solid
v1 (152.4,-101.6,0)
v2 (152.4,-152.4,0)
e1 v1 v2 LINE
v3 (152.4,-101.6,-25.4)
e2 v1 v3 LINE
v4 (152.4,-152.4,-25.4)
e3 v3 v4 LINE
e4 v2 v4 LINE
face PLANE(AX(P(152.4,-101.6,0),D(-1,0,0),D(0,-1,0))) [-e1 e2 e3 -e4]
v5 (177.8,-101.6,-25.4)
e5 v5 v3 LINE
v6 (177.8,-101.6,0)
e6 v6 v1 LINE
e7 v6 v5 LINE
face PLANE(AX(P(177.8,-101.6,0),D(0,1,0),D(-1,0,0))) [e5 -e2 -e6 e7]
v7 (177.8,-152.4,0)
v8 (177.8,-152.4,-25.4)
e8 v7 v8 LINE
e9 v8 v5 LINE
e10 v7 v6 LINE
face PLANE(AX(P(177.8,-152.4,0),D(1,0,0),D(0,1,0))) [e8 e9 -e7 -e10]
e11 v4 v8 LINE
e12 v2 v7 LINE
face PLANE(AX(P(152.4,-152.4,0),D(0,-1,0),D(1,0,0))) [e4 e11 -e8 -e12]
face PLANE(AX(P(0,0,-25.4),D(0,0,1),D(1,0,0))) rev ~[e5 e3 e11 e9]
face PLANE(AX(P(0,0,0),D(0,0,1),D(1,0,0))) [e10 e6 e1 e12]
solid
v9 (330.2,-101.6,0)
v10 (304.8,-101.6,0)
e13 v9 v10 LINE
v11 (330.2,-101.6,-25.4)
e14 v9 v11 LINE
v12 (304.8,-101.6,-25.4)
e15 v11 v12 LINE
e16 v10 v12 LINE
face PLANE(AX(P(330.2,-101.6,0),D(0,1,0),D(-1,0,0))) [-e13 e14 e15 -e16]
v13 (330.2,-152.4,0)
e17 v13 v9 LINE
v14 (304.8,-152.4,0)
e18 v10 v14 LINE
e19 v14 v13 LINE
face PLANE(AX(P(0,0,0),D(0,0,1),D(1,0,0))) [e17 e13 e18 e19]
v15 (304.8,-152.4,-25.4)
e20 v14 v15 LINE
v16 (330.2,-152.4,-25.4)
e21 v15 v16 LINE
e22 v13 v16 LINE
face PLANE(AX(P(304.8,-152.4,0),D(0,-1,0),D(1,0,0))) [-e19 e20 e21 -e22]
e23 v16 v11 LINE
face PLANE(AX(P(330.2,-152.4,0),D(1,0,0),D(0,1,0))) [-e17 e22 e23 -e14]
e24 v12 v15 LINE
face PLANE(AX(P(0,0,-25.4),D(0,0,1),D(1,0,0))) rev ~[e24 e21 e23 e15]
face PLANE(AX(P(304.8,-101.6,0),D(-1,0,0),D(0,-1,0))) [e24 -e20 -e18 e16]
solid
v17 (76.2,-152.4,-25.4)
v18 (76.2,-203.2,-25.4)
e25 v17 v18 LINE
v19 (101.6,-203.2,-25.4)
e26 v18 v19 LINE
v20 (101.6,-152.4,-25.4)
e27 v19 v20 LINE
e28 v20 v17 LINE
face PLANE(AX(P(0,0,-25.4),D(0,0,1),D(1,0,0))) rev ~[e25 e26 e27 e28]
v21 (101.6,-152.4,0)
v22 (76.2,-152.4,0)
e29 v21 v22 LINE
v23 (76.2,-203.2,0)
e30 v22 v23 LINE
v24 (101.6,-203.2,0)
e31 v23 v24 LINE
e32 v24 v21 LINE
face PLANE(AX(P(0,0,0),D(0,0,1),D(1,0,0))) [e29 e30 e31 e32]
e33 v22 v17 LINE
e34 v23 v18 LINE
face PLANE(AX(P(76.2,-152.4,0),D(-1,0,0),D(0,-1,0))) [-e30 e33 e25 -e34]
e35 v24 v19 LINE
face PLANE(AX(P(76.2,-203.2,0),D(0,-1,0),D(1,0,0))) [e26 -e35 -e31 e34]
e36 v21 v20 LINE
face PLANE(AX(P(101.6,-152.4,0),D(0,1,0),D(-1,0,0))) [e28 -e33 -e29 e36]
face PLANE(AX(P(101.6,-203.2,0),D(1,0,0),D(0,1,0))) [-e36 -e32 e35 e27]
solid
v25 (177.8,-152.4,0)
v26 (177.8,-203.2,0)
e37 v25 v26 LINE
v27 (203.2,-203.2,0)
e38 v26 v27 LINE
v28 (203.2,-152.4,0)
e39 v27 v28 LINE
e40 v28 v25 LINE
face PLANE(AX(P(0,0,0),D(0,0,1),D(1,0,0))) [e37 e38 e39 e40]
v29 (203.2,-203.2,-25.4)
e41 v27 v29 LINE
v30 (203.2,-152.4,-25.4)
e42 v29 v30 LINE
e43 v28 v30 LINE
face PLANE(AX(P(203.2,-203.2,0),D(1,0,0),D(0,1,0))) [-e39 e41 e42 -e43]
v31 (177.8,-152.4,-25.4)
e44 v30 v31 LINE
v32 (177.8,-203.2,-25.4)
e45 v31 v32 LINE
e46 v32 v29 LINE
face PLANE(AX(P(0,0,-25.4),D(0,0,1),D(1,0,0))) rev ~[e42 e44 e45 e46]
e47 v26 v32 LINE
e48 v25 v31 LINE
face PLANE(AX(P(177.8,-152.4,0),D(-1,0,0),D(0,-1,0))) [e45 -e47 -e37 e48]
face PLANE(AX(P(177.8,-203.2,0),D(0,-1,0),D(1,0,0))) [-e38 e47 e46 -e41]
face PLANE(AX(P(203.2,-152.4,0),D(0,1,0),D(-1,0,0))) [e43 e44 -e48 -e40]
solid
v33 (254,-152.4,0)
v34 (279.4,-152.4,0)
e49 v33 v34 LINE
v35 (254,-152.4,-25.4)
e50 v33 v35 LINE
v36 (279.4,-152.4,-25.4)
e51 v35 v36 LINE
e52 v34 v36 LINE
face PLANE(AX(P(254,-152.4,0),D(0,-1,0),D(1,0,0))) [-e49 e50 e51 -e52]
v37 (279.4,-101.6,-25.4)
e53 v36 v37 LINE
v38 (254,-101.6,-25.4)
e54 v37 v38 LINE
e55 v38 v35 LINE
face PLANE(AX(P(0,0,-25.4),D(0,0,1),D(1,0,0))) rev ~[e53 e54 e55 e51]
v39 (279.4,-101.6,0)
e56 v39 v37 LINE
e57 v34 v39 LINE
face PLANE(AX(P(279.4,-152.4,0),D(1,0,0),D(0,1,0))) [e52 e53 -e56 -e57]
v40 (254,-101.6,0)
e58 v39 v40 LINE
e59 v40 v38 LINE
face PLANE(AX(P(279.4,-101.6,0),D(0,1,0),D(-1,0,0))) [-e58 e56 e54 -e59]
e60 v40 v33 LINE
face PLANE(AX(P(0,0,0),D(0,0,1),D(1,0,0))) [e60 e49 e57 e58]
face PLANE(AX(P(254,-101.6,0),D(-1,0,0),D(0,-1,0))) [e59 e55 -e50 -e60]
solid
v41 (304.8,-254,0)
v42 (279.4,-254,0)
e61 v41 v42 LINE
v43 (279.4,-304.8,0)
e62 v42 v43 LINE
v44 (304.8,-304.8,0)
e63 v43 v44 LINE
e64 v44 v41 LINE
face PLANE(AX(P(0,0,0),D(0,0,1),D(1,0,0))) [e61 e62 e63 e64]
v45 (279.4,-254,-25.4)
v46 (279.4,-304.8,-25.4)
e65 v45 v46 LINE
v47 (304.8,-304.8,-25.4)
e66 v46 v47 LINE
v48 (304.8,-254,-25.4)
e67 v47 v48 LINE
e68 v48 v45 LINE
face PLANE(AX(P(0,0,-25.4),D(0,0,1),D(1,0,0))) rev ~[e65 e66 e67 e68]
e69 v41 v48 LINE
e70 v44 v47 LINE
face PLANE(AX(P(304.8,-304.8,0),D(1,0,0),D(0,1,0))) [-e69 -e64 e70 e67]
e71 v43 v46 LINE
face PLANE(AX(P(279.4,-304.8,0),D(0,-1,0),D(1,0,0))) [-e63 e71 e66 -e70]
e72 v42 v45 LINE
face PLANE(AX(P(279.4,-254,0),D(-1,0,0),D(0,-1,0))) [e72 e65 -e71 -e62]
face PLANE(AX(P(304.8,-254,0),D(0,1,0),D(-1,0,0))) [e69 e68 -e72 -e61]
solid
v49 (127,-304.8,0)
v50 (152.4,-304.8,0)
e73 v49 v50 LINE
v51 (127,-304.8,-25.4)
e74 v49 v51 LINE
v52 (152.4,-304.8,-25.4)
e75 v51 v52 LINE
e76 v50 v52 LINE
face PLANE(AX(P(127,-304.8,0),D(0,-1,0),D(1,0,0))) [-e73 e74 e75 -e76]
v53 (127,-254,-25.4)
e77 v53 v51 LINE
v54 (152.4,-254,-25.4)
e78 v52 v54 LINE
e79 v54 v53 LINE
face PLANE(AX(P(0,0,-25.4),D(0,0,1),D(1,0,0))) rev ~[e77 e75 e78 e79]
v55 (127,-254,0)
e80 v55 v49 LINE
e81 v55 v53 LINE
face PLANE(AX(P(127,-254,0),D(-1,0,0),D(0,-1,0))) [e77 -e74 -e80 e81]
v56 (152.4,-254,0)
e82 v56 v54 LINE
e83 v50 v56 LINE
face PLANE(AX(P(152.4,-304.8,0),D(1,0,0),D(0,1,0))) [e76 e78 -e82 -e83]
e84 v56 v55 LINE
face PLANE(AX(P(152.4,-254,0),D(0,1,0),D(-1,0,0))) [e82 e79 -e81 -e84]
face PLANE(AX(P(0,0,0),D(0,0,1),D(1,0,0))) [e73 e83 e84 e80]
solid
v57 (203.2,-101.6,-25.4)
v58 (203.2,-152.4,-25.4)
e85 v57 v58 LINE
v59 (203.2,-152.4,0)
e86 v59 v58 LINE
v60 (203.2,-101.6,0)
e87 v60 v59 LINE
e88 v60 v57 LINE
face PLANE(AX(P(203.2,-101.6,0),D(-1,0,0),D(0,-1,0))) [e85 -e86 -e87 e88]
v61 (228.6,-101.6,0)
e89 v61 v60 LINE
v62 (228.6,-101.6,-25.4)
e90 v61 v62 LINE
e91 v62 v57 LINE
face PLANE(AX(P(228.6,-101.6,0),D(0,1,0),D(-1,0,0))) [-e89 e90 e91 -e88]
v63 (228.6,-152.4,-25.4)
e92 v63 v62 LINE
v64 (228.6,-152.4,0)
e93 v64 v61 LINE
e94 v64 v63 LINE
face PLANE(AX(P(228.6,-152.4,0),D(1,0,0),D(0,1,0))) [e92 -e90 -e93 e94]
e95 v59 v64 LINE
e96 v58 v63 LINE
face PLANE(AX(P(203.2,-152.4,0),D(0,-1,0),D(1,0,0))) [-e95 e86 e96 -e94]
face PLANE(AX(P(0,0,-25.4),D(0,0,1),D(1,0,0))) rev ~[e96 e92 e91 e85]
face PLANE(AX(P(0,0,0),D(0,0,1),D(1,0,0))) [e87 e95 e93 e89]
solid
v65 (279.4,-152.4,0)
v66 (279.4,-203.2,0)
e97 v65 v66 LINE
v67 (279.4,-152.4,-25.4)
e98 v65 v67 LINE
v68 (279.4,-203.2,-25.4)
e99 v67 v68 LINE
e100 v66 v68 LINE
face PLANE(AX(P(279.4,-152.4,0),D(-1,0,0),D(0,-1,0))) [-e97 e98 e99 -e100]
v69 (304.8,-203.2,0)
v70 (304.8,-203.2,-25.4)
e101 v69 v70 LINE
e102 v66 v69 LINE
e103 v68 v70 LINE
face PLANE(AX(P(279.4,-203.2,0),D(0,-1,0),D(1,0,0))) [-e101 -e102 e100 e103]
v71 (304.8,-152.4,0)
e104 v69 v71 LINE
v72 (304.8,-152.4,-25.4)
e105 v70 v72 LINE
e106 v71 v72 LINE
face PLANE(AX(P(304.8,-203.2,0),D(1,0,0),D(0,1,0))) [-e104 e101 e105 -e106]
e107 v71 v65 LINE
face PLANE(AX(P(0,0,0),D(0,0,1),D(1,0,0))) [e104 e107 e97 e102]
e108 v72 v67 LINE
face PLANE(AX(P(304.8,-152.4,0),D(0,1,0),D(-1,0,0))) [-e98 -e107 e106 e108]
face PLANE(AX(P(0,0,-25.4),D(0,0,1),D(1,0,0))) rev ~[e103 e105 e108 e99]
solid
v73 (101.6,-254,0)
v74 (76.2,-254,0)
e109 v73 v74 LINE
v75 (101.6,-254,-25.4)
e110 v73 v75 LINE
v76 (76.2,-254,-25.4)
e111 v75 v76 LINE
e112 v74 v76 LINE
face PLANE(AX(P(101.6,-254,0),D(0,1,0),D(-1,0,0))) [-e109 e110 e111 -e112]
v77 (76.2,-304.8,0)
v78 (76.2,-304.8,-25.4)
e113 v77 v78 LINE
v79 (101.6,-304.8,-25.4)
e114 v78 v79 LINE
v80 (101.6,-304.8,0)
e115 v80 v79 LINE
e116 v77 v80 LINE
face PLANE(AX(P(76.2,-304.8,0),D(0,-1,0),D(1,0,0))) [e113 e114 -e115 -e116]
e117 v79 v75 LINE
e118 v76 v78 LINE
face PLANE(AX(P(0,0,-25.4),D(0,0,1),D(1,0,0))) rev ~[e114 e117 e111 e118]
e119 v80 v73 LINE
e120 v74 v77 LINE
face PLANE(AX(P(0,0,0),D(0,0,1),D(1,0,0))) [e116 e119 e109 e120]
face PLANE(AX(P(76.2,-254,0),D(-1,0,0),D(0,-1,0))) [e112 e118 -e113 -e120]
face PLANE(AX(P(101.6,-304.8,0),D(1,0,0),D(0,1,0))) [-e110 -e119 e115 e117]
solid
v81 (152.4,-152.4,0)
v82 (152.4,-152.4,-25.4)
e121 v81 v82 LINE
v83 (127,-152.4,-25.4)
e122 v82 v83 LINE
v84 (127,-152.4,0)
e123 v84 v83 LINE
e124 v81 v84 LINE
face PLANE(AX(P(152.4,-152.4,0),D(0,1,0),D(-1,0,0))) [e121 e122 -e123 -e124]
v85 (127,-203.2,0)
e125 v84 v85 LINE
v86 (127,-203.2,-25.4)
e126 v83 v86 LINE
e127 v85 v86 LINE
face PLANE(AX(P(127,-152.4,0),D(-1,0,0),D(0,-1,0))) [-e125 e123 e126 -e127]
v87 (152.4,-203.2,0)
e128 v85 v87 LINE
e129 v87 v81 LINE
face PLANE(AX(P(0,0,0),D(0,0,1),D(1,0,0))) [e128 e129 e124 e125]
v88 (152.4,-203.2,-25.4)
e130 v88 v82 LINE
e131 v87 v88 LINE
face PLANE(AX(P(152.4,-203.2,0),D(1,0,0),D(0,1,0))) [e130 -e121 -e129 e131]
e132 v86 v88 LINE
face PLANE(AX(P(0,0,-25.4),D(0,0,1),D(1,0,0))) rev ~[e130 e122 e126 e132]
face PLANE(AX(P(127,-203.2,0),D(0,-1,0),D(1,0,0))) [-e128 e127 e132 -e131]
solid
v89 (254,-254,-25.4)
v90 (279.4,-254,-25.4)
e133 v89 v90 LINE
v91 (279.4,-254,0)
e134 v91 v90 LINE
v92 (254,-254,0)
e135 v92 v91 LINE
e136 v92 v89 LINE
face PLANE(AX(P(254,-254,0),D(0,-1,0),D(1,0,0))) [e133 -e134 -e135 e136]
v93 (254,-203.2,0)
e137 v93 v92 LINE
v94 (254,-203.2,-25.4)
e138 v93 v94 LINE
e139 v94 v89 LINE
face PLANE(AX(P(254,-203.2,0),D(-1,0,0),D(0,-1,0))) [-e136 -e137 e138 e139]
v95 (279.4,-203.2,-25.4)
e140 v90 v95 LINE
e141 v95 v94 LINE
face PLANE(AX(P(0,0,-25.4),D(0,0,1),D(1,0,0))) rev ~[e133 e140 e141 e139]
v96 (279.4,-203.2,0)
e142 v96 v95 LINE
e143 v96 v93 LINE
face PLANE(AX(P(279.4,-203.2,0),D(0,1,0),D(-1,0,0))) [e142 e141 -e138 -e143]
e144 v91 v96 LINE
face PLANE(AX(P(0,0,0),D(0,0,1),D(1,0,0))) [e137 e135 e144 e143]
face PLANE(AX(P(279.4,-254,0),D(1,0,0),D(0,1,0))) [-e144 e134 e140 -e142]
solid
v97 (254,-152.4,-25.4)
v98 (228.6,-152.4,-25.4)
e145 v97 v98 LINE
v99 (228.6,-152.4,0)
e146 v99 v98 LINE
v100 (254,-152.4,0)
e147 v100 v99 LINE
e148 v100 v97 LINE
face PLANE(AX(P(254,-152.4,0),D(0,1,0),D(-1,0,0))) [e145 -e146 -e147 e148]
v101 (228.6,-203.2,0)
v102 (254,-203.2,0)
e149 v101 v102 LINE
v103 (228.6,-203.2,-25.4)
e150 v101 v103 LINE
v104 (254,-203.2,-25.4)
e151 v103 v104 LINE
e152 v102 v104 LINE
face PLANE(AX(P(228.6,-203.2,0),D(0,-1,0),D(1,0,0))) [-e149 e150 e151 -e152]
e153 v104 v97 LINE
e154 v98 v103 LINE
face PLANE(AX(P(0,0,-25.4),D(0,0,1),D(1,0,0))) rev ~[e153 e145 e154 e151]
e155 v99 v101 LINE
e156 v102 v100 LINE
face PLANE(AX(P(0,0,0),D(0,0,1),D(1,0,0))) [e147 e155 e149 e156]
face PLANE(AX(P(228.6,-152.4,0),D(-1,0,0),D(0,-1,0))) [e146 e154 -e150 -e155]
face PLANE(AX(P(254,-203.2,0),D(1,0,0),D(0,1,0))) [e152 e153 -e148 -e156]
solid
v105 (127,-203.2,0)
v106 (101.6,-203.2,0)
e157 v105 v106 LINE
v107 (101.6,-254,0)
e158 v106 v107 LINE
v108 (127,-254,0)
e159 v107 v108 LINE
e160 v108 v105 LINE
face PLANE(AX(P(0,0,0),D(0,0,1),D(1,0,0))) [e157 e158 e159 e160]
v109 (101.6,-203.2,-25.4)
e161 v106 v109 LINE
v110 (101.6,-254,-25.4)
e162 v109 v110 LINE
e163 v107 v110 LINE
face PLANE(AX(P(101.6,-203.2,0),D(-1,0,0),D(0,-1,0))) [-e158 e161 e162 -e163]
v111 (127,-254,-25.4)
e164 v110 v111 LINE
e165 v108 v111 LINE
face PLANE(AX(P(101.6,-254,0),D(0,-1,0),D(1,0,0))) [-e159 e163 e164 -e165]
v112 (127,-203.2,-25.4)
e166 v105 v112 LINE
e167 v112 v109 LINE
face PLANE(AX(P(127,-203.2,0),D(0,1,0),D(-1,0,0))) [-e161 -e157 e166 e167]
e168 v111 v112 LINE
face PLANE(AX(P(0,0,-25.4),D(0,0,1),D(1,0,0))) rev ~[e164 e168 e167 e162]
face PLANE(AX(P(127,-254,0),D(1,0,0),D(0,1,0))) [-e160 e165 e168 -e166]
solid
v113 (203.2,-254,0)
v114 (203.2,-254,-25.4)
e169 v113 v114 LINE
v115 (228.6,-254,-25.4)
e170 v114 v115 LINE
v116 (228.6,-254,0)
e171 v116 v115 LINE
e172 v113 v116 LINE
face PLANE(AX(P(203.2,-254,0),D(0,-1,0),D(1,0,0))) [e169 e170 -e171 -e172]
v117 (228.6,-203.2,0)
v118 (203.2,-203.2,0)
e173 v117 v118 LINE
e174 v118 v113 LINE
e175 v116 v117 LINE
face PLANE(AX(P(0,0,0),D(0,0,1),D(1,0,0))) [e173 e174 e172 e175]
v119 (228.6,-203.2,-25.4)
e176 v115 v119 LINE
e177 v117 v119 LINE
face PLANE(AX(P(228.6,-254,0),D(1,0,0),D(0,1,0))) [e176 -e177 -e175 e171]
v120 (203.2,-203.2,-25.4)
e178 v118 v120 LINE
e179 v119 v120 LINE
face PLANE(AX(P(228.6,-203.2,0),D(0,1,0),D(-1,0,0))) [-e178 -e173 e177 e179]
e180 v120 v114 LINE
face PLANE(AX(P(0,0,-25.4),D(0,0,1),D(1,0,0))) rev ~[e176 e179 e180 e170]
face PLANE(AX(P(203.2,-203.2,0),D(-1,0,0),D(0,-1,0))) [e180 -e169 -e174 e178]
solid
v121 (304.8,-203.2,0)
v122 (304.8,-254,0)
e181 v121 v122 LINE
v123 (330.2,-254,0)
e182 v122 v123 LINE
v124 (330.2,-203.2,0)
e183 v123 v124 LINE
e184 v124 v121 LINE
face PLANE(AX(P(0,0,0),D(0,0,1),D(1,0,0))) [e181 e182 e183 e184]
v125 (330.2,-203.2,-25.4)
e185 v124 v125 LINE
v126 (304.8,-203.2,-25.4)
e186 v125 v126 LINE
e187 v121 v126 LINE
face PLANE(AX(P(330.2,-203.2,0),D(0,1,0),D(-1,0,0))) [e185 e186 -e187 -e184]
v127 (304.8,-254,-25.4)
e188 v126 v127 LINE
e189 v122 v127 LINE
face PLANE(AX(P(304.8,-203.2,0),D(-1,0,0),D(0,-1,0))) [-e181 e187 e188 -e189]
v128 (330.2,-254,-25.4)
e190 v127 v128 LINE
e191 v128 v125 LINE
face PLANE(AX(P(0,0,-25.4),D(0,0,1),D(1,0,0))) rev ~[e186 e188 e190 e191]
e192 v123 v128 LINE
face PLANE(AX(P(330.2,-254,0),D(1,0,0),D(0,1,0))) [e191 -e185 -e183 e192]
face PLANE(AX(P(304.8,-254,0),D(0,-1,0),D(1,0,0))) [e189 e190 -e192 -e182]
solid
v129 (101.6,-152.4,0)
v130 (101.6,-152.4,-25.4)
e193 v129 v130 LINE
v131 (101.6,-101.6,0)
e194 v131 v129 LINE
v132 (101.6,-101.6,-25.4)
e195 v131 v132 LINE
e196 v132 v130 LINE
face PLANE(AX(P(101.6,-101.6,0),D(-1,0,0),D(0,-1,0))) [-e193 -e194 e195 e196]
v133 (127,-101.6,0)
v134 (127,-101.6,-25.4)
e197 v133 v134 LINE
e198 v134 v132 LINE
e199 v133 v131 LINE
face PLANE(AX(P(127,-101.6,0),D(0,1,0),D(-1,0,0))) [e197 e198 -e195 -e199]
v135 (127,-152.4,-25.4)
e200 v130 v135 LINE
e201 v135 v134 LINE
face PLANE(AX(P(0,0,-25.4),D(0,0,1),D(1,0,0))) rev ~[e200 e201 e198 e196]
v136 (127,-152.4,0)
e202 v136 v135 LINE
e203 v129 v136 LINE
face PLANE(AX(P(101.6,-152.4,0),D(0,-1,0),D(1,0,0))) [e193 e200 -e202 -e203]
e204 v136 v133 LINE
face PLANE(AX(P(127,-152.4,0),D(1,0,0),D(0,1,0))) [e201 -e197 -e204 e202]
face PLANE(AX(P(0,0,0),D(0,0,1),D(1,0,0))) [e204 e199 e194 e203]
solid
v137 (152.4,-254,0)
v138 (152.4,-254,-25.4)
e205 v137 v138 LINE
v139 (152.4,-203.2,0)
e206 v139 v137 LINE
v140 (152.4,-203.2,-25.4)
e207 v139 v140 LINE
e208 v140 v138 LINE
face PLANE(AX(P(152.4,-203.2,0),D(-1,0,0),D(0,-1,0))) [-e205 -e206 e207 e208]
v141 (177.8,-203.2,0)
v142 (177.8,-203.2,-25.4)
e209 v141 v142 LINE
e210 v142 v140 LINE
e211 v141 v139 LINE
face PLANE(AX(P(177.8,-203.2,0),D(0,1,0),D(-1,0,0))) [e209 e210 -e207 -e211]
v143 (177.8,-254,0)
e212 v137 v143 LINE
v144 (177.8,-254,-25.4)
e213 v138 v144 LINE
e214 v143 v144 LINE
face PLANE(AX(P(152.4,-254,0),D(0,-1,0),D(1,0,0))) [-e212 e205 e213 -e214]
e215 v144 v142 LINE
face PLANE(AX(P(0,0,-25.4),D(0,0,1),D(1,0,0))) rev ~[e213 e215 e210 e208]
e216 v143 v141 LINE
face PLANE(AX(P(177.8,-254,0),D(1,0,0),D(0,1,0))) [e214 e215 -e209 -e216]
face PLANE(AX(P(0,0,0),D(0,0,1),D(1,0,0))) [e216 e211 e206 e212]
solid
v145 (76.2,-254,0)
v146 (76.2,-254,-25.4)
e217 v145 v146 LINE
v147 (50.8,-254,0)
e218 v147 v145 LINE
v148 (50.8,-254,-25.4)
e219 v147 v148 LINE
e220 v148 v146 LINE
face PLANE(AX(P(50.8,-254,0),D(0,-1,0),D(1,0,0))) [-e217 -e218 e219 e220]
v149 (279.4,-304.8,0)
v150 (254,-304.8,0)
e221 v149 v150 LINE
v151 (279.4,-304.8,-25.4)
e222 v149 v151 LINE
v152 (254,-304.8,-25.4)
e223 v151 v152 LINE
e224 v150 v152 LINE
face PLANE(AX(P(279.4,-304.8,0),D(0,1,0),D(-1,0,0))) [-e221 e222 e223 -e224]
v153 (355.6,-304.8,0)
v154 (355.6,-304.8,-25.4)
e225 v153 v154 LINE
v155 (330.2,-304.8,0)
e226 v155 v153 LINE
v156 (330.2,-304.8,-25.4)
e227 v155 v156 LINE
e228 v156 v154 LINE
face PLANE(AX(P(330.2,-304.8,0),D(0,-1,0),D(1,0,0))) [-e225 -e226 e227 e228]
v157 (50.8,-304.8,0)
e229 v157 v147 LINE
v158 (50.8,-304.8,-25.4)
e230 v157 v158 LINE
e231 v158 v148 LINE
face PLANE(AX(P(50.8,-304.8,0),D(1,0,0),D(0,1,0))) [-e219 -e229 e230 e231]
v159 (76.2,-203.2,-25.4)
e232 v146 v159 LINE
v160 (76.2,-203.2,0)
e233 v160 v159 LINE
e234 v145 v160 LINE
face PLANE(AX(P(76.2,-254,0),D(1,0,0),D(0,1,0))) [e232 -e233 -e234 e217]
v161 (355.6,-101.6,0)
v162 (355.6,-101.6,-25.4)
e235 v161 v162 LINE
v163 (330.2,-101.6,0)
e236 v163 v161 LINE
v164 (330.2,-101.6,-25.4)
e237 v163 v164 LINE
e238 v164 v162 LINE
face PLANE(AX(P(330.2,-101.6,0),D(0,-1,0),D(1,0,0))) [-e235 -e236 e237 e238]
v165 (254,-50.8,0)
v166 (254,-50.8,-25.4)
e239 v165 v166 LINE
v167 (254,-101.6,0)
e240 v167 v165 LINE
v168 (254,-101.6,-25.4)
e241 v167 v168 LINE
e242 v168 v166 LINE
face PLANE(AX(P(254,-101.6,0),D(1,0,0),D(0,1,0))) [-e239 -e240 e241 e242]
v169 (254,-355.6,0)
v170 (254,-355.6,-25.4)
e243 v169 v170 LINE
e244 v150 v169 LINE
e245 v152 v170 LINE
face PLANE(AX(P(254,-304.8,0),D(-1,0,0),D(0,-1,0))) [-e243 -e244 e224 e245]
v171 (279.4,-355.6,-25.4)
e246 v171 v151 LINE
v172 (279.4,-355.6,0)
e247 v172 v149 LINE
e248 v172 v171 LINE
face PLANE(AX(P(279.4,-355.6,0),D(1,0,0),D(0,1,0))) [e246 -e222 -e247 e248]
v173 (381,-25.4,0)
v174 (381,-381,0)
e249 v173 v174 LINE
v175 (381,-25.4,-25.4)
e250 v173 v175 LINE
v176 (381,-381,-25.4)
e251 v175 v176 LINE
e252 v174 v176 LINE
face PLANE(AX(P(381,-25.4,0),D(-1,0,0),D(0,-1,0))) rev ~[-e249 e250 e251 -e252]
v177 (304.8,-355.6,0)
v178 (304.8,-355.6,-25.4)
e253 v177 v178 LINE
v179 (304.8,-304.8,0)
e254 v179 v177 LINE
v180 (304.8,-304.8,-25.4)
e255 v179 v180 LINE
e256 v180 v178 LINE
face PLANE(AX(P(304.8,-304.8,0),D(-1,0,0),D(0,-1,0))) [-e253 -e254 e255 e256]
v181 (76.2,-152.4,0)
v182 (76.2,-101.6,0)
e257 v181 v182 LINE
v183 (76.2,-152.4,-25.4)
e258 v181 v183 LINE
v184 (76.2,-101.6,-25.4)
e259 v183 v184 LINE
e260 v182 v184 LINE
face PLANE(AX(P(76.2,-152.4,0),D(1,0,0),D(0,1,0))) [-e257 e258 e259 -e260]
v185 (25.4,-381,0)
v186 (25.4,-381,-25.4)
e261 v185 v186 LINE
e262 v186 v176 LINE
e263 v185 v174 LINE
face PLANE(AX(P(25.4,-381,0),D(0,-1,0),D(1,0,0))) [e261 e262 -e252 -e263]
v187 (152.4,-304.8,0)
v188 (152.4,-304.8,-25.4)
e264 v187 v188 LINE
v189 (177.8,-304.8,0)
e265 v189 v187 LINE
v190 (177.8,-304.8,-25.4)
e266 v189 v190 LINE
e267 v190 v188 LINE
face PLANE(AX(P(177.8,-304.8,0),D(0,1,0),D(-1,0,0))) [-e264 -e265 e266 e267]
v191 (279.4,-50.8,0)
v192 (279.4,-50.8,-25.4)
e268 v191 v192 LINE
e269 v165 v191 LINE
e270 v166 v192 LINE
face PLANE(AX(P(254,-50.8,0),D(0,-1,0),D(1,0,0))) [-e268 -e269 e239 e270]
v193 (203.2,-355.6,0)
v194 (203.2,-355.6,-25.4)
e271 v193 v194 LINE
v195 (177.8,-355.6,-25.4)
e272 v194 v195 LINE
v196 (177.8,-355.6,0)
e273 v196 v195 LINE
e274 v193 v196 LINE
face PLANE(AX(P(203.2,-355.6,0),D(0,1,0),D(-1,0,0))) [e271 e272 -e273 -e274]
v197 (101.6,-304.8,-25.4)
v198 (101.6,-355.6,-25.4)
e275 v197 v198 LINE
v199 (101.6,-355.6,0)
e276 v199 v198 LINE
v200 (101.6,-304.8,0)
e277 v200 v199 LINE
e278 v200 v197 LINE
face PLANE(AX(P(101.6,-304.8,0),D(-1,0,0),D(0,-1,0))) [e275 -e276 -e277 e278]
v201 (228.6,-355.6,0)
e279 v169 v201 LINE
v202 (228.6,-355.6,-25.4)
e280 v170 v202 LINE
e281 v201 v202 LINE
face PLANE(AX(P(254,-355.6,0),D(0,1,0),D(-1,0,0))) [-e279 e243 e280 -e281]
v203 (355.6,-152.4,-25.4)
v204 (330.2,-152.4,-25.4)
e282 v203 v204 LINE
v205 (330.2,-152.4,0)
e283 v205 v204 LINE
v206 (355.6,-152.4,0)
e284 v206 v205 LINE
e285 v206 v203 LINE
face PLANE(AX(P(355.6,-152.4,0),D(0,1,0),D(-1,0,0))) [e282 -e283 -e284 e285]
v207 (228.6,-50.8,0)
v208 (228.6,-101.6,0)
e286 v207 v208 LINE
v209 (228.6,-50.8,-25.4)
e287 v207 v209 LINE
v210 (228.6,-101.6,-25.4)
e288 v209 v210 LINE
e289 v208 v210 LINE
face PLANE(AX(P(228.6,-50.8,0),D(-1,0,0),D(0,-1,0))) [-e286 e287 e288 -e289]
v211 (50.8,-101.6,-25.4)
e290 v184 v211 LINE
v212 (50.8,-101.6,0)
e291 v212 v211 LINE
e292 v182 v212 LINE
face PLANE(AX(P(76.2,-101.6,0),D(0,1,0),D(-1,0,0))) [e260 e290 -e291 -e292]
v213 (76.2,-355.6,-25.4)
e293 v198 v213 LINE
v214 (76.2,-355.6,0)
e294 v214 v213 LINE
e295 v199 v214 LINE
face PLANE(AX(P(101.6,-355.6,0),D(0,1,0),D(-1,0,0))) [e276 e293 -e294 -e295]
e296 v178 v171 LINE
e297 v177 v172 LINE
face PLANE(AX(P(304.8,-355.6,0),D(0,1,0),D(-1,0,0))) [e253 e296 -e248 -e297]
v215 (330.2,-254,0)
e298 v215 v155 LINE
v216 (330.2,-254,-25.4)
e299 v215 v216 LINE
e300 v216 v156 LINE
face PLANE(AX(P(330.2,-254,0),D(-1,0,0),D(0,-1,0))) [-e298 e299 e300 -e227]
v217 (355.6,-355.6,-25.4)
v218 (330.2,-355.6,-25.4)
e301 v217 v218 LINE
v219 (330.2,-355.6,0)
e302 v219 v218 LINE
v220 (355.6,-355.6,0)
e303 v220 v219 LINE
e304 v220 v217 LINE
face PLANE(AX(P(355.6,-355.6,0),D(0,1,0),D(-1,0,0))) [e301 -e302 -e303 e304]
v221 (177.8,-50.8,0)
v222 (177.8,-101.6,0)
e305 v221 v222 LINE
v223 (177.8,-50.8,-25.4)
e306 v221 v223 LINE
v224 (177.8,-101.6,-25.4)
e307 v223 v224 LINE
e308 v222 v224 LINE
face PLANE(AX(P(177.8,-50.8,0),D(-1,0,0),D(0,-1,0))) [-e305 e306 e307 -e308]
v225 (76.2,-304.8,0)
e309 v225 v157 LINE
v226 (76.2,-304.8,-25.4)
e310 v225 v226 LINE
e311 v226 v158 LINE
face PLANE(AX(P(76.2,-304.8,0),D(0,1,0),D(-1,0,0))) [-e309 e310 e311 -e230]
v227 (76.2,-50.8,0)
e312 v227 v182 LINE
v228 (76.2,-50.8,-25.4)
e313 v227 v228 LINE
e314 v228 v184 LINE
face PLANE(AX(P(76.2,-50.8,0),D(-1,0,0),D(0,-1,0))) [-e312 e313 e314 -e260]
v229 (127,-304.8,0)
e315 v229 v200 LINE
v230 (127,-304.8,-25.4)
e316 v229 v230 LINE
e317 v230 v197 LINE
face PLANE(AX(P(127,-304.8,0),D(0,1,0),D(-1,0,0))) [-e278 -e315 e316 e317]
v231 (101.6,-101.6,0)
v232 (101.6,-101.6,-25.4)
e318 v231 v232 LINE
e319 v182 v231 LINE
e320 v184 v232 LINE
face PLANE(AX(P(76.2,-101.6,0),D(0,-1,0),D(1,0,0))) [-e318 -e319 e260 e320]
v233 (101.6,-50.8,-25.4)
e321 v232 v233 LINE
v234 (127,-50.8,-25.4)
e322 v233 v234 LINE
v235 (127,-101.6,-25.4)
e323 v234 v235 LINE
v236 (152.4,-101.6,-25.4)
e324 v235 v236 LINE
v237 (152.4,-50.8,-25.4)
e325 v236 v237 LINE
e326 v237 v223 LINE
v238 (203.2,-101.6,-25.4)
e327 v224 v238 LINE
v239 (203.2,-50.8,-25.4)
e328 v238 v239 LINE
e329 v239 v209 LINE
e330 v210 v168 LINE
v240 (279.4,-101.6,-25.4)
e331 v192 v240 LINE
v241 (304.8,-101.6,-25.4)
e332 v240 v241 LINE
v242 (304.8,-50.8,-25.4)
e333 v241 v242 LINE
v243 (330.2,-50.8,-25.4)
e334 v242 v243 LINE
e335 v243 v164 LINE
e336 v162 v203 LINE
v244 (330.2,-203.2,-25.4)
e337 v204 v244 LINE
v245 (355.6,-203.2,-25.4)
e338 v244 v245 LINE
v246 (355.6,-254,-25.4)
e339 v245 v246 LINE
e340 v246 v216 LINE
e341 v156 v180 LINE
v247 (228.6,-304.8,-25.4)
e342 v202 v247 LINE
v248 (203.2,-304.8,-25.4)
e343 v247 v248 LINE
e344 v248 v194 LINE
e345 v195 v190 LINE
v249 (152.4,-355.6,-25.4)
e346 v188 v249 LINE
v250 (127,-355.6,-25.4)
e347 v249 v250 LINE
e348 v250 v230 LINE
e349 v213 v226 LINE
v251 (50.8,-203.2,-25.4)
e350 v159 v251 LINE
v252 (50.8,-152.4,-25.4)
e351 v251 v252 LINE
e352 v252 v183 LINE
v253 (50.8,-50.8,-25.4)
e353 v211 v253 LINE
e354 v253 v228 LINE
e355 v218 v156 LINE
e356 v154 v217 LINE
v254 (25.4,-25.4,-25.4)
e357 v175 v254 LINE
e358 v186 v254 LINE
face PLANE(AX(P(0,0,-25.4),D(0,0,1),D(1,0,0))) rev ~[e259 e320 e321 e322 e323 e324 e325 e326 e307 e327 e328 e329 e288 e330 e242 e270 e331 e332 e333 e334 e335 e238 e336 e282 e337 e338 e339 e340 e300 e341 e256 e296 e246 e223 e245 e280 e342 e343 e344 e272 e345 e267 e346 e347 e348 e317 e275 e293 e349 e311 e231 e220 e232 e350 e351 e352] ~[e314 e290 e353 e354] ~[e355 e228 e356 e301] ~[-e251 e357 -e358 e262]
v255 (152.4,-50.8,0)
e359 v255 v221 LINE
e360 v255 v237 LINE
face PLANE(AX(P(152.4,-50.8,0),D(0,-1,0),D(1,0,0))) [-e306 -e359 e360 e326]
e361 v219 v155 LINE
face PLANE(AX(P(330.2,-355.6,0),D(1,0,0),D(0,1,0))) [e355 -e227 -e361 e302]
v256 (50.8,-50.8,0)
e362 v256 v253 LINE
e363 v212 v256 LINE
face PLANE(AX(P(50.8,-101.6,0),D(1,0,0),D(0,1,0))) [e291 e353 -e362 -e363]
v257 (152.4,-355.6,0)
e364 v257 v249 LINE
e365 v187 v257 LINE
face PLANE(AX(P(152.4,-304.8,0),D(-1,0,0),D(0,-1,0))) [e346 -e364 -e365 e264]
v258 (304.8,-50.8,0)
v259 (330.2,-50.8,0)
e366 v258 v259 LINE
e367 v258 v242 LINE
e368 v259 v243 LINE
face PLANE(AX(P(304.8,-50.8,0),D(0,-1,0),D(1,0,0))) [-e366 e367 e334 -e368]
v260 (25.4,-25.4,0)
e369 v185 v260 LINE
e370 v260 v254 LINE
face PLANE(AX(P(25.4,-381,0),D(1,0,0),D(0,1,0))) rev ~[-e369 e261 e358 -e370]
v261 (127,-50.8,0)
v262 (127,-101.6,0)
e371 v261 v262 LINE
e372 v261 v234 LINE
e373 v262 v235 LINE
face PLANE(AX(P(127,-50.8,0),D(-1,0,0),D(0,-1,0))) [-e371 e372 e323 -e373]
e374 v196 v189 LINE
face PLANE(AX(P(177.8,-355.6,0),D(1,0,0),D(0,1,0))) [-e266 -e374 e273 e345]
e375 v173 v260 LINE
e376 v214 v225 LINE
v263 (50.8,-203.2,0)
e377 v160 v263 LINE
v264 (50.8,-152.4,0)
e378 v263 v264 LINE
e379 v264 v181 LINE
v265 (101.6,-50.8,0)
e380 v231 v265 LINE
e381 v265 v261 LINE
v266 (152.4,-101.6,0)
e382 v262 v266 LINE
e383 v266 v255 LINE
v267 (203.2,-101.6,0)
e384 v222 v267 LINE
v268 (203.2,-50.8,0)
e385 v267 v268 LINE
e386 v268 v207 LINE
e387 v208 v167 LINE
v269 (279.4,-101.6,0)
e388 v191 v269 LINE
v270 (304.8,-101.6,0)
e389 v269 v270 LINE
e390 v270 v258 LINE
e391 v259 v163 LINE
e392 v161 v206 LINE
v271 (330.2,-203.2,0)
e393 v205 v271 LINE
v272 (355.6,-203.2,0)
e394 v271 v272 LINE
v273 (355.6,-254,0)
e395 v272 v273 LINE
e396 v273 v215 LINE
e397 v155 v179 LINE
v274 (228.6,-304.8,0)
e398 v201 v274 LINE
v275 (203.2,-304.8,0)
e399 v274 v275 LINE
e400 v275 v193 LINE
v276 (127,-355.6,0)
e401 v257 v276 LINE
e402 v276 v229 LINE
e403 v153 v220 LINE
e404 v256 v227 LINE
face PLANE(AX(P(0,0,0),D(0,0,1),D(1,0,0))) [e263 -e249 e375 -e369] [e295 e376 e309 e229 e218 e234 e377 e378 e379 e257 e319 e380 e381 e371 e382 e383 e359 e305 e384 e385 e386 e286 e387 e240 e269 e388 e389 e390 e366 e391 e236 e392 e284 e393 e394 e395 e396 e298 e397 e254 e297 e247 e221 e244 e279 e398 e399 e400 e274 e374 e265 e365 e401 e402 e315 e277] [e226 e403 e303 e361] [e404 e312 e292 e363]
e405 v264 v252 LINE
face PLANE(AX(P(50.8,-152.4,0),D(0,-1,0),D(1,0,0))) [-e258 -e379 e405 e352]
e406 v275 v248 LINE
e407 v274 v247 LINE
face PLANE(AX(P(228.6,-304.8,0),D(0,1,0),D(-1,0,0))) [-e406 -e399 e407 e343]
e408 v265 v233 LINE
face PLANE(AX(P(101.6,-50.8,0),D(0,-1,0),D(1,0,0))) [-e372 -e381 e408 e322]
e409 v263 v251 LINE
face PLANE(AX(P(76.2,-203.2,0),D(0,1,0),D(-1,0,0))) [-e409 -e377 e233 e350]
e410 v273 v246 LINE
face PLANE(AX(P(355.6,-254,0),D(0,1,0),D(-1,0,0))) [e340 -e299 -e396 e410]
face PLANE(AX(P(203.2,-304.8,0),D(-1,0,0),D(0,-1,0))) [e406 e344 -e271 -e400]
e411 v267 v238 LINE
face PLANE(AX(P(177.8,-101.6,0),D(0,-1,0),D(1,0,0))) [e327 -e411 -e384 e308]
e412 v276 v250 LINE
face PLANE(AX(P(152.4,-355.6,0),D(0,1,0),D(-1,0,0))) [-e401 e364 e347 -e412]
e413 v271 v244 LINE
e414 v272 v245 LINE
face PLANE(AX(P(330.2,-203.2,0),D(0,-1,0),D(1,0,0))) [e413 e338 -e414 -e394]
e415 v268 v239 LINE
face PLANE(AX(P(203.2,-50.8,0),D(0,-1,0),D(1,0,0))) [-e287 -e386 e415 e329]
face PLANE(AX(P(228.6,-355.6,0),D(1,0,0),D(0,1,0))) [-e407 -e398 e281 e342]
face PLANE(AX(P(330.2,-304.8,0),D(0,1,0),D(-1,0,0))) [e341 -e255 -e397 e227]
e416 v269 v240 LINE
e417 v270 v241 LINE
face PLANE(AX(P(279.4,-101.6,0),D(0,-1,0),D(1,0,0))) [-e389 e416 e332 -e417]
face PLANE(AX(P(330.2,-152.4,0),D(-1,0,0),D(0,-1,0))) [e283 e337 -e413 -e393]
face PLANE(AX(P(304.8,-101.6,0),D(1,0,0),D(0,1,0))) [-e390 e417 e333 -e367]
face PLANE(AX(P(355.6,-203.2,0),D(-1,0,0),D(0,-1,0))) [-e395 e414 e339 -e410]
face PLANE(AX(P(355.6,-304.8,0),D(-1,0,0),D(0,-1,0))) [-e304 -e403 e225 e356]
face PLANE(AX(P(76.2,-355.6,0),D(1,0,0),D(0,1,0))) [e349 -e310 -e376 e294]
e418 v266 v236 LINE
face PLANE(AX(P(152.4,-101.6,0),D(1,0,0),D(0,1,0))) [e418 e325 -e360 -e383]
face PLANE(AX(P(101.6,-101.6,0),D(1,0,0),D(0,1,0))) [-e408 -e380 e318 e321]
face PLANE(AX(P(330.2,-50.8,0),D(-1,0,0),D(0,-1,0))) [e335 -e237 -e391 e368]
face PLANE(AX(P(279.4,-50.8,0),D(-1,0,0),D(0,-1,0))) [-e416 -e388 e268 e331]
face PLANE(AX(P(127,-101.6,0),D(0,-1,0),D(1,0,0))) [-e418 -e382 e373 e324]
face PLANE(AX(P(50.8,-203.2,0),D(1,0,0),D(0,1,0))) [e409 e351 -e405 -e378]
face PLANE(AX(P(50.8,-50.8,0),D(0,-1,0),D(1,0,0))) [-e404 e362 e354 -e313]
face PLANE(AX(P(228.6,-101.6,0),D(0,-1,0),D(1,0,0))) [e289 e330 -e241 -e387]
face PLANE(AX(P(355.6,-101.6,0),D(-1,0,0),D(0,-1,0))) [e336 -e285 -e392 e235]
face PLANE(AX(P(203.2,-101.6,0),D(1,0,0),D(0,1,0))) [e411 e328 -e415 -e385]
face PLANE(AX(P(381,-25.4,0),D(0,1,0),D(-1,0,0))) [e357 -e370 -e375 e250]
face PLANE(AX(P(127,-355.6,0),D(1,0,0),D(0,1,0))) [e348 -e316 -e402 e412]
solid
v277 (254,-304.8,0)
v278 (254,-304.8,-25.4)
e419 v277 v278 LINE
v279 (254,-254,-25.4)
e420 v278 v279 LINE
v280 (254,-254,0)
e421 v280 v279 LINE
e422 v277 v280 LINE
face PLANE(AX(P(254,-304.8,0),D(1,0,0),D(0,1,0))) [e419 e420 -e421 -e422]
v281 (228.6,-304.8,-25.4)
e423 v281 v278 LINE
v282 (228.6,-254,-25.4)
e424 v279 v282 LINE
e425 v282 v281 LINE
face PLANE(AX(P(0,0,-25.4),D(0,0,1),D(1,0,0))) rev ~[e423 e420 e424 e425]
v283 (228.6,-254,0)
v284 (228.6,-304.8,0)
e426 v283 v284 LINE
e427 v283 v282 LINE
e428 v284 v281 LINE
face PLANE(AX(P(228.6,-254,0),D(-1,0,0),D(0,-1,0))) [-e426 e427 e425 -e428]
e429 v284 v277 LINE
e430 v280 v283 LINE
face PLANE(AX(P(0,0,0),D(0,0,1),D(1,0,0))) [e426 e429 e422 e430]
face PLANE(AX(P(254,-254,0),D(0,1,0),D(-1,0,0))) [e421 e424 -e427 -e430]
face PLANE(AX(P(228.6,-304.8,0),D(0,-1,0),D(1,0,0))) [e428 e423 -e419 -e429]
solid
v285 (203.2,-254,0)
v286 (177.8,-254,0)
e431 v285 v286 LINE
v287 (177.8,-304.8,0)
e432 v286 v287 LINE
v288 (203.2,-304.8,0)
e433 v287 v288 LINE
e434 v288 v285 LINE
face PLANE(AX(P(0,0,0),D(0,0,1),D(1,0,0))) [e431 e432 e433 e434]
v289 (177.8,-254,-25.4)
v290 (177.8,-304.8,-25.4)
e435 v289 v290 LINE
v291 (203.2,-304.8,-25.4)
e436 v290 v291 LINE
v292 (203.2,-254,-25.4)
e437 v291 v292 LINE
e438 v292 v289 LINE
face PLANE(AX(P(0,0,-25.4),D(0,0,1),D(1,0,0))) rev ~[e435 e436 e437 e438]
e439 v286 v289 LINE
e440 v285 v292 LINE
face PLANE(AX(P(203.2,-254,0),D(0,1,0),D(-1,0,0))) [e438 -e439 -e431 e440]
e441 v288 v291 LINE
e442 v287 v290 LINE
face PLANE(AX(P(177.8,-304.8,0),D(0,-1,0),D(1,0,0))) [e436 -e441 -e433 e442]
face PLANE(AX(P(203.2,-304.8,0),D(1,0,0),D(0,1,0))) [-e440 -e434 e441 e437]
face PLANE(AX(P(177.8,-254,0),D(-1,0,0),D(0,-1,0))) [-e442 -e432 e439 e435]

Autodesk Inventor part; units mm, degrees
ref_plane "YZ Plane" through (0, 0, 0) normal (1, 0, 0) x (0, 1, 0)
ref_plane "XZ Plane" through (0, 0, 0) normal (0, 1, 0) x (-1, 0, 0)
ref_plane "XY Plane" through (0, 0, 0) normal (0, 0, 1) x (1, 0, 0)
sketch "Sketch1" plane through (0, 0, 0) normal (0, 0, 1) x (1, 0, 0)
  line L0 (0, 0) -> (812.8, 0) construction
  line L1 (812.8, 0) -> (812.8, -406.4) construction
  line L2 (812.8, -406.4) -> (0, -406.4) construction
  line L3 (0, -406.4) -> (0, 0) construction
  line L4 (0, 0) -> (406.4, 0)
  line L5 (406.4, 0) -> (406.4, -25.4)
  line L6 (406.4, -25.4) -> (0, -25.4)
  line L7 (0, -25.4) -> (0, 0)
  line L8 (406.4, -25.4) -> (381, -25.4)
  line L9 (381, -25.4) -> (381, -406.4)
  line L10 (381, -406.4) -> (406.4, -406.4)
  line L11 (406.4, -406.4) -> (406.4, -25.4)
  line L12 (381, -406.4) -> (0, -406.4)
  line L13 (0, -406.4) -> (0, -381)
  line L14 (0, -381) -> (381, -381)
  line L15 (381, -381) -> (381, -406.4)
  line L16 (0, -381) -> (25.4, -381)
  line L17 (25.4, -381) -> (25.4, -25.4)
  line L18 (25.4, -25.4) -> (0, -25.4)
  line L19 (0, -25.4) -> (0, -381)
  dimension "d1" = 812.8
  dimension "d5" = 406.4
  dimension "d6" = 25.4
  dimension "d7" = 25.4
  dimension "d8" = 381
  dimension "d9" = 381
  dimension "d10" = 25.4
  dimension "d11" = 25.4
extrude "Extrusion1" add sketch "Sketch1" against normal blind 25.4 contours L6 L9 L14 L17
sketch "Sketch2" plane through (0, 0, 0) normal (0, 0, 1) x (1, 0, 0)
  line L0 (0, 0) -> (812.8, 0) construction
  line L1 (812.8, 0) -> (812.8, -406.4) construction
  line L2 (812.8, -406.4) -> (0, -406.4) construction
  line L3 (0, -406.4) -> (0, 0) construction
  line L4 (25.4, -25.4) -> (381, -25.4) projected
  line L5 (25.4, -25.4) -> (50.8, -25.4)
  line L6 (50.8, -25.4) -> (50.8, -50.8)
  line L7 (50.8, -50.8) -> (25.4, -50.8)
  line L8 (25.4, -50.8) -> (25.4, -25.4)
  line L9 (50.8, -50.8) -> (76.2, -50.8)
  line L10 (76.2, -50.8) -> (76.2, -101.6)
  line L11 (76.2, -101.6) -> (50.8, -101.6)
  line L12 (50.8, -101.6) -> (50.8, -50.8)
  line L13 (76.2, -101.6) -> (101.6, -101.6)
  line L14 (101.6, -101.6) -> (101.6, -152.4)
  line L15 (101.6, -152.4) -> (76.2, -152.4)
  line L16 (76.2, -152.4) -> (76.2, -101.6)
  line L17 (101.6, -152.4) -> (127, -152.4)
  line L18 (127, -152.4) -> (127, -203.2)
  line L19 (127, -203.2) -> (101.6, -203.2)
  line L20 (101.6, -203.2) -> (101.6, -152.4)
  line L21 (127, -203.2) -> (152.4, -203.2)
  line L22 (152.4, -203.2) -> (152.4, -254)
  line L23 (152.4, -254) -> (127, -254)
  line L24 (127, -254) -> (127, -203.2)
  line L25 (152.4, -254) -> (177.8, -254)
  line L26 (177.8, -254) -> (177.8, -304.8)
  line L27 (177.8, -304.8) -> (152.4, -304.8)
  line L28 (152.4, -304.8) -> (152.4, -254)
  line L29 (177.8, -304.8) -> (203.2, -304.8)
  line L30 (203.2, -304.8) -> (203.2, -355.6)
  line L31 (203.2, -355.6) -> (177.8, -355.6)
  line L32 (177.8, -355.6) -> (177.8, -304.8)
  line L33 (50.8, -152.4) -> (76.2, -152.4)
  line L34 (76.2, -152.4) -> (76.2, -203.2)
  line L35 (76.2, -203.2) -> (50.8, -203.2)
  line L36 (50.8, -203.2) -> (50.8, -152.4)
  line L37 (76.2, -203.2) -> (101.6, -203.2)
  line L38 (101.6, -203.2) -> (101.6, -254)
  line L39 (101.6, -254) -> (76.2, -254)
  line L40 (76.2, -254) -> (76.2, -203.2)
  line L41 (101.6, -254) -> (127, -254)
  line L42 (127, -254) -> (127, -304.8)
  line L43 (127, -304.8) -> (101.6, -304.8)
  line L44 (101.6, -304.8) -> (101.6, -254)
  line L45 (127, -304.8) -> (152.4, -304.8)
  line L46 (152.4, -304.8) -> (152.4, -355.6)
  line L47 (152.4, -355.6) -> (127, -355.6)
  line L48 (127, -355.6) -> (127, -304.8)
  line L49 (50.8, -254) -> (76.2, -254)
  line L50 (76.2, -254) -> (76.2, -304.8)
  line L51 (76.2, -304.8) -> (50.8, -304.8)
  line L52 (50.8, -304.8) -> (50.8, -254)
  line L53 (76.2, -304.8) -> (101.6, -304.8)
  line L54 (101.6, -304.8) -> (101.6, -355.6)
  line L55 (101.6, -355.6) -> (76.2, -355.6)
  line L56 (76.2, -355.6) -> (76.2, -304.8)
  line L57 (203.2, -254) -> (228.6, -254)
  line L58 (228.6, -254) -> (228.6, -304.8)
  line L59 (228.6, -304.8) -> (203.2, -304.8)
  line L60 (203.2, -304.8) -> (203.2, -254)
  line L61 (228.6, -304.8) -> (254, -304.8)
  line L62 (254, -304.8) -> (254, -355.6)
  line L63 (254, -355.6) -> (228.6, -355.6)
  line L64 (228.6, -355.6) -> (228.6, -304.8)
  line L65 (152.4, -152.4) -> (177.8, -152.4)
  line L66 (177.8, -152.4) -> (177.8, -203.2)
  line L67 (177.8, -203.2) -> (152.4, -203.2)
  line L68 (152.4, -203.2) -> (152.4, -152.4)
  line L69 (177.8, -203.2) -> (203.2, -203.2)
  line L70 (203.2, -203.2) -> (203.2, -254)
  line L71 (203.2, -254) -> (177.8, -254)
  line L72 (177.8, -254) -> (177.8, -203.2)
  line L73 (101.6, -50.8) -> (127, -50.8)
  line L74 (127, -50.8) -> (127, -101.6)
  line L75 (127, -101.6) -> (101.6, -101.6)
  line L76 (101.6, -101.6) -> (101.6, -50.8)
  line L77 (127, -101.6) -> (152.4, -101.6)
  line L78 (152.4, -101.6) -> (152.4, -152.4)
  line L79 (152.4, -152.4) -> (127, -152.4)
  line L80 (127, -152.4) -> (127, -101.6)
  line L81 (254, -254) -> (279.4, -254)
  line L82 (279.4, -254) -> (279.4, -304.8)
  line L83 (279.4, -304.8) -> (254, -304.8)
  line L84 (254, -304.8) -> (254, -254)
  line L85 (279.4, -304.8) -> (304.8, -304.8)
  line L86 (304.8, -304.8) -> (304.8, -355.6)
  line L87 (304.8, -355.6) -> (279.4, -355.6)
  line L88 (279.4, -355.6) -> (279.4, -304.8)
  line L89 (203.2, -152.4) -> (228.6, -152.4)
  line L90 (228.6, -152.4) -> (228.6, -203.2)
  line L91 (228.6, -203.2) -> (203.2, -203.2)
  line L92 (203.2, -203.2) -> (203.2, -152.4)
  line L93 (228.6, -203.2) -> (254, -203.2)
  line L94 (254, -203.2) -> (254, -254)
  line L95 (254, -254) -> (228.6, -254)
  line L96 (228.6, -254) -> (228.6, -203.2)
  line L97 (152.4, -50.8) -> (177.8, -50.8)
  line L98 (177.8, -50.8) -> (177.8, -101.6)
  line L99 (177.8, -101.6) -> (152.4, -101.6)
  line L100 (152.4, -101.6) -> (152.4, -50.8)
  line L101 (177.8, -101.6) -> (203.2, -101.6)
  line L102 (203.2, -101.6) -> (203.2, -152.4)
  line L103 (203.2, -152.4) -> (177.8, -152.4)
  line L104 (177.8, -152.4) -> (177.8, -101.6)
  line L105 (304.8, -254) -> (330.2, -254)
  line L106 (330.2, -254) -> (330.2, -304.8)
  line L107 (330.2, -304.8) -> (304.8, -304.8)
  line L108 (304.8, -304.8) -> (304.8, -254)
  line L109 (330.2, -304.8) -> (355.6, -304.8)
  line L110 (355.6, -304.8) -> (355.6, -355.6)
  line L111 (355.6, -355.6) -> (330.2, -355.6)
  line L112 (330.2, -355.6) -> (330.2, -304.8)
  line L113 (254, -152.4) -> (279.4, -152.4)
  line L114 (279.4, -152.4) -> (279.4, -203.2)
  line L115 (279.4, -203.2) -> (254, -203.2)
  line L116 (254, -203.2) -> (254, -152.4)
  line L117 (279.4, -203.2) -> (304.8, -203.2)
  line L118 (304.8, -203.2) -> (304.8, -254)
  line L119 (304.8, -254) -> (279.4, -254)
  line L120 (279.4, -254) -> (279.4, -203.2)
  line L121 (203.2, -50.8) -> (228.6, -50.8)
  line L122 (228.6, -50.8) -> (228.6, -101.6)
  line L123 (228.6, -101.6) -> (203.2, -101.6)
  line L124 (203.2, -101.6) -> (203.2, -50.8)
  line L125 (228.6, -101.6) -> (254, -101.6)
  line L126 (254, -101.6) -> (254, -152.4)
  line L127 (254, -152.4) -> (228.6, -152.4)
  line L128 (228.6, -152.4) -> (228.6, -101.6)
  line L129 (304.8, -152.4) -> (330.2, -152.4)
  line L130 (330.2, -152.4) -> (330.2, -203.2)
  line L131 (330.2, -203.2) -> (304.8, -203.2)
  line L132 (304.8, -203.2) -> (304.8, -152.4)
  line L133 (330.2, -203.2) -> (355.6, -203.2)
  line L134 (355.6, -203.2) -> (355.6, -254)
  line L135 (355.6, -254) -> (330.2, -254)
  line L136 (330.2, -254) -> (330.2, -203.2)
  line L137 (254, -50.8) -> (279.4, -50.8)
  line L138 (279.4, -50.8) -> (279.4, -101.6)
  line L139 (279.4, -101.6) -> (254, -101.6)
  line L140 (254, -101.6) -> (254, -50.8)
  line L141 (279.4, -101.6) -> (304.8, -101.6)
  line L142 (304.8, -101.6) -> (304.8, -152.4)
  line L143 (304.8, -152.4) -> (279.4, -152.4)
  line L144 (279.4, -152.4) -> (279.4, -101.6)
  line L145 (304.8, -50.8) -> (330.2, -50.8)
  line L146 (330.2, -50.8) -> (330.2, -101.6)
  line L147 (330.2, -101.6) -> (304.8, -101.6)
  line L148 (304.8, -101.6) -> (304.8, -50.8)
  line L149 (330.2, -101.6) -> (355.6, -101.6)
  line L150 (355.6, -101.6) -> (355.6, -152.4)
  line L151 (355.6, -152.4) -> (330.2, -152.4)
  line L152 (330.2, -152.4) -> (330.2, -101.6)
  dimension "d15" = 812.8
  dimension "d19" = 25.4
  dimension "d20" = 25.4
  dimension "d21" = 25.4
  dimension "d22" = 50.8
  dimension "d23" = 25.4
  dimension "d24" = 50.8
  dimension "d25" = 25.4
  dimension "d26" = 50.8
  dimension "d27" = 25.4
  dimension "d28" = 50.8
  dimension "d30" = 25.4
  dimension "d31" = 50.8
  dimension "d32" = 25.4
  dimension "d33" = 50.8
  dimension "d35" = 25.4
  dimension "d36" = 50.8
  dimension "d37" = 25.4
  dimension "d38" = 50.8
  dimension "d40" = 25.4
  dimension "d41" = 50.8
  dimension "d42" = 25.4
  dimension "d43" = 50.8
  dimension "d45" = 25.4
  dimension "d46" = 50.8
  dimension "d47" = 25.4
  dimension "d48" = 50.8
  dimension "d50" = 25.4
  dimension "d51" = 50.8
  dimension "d52" = 25.4
  dimension "d53" = 50.8
  dimension "d55" = 25.4
  dimension "d56" = 50.8
  dimension "d57" = 25.4
  dimension "d58" = 50.8
  dimension "d60" = 25.4
  dimension "d61" = 50.8
  dimension "d62" = 25.4
  dimension "d63" = 50.8
  dimension "d65" = 25.4
  dimension "d66" = 50.8
  dimension "d67" = 25.4
  dimension "d68" = 50.8
  dimension "d70" = 25.4
  dimension "d71" = 50.8
  dimension "d72" = 25.4
  dimension "d73" = 50.8
  dimension "d75" = 25.4
  dimension "d76" = 50.8
  dimension "d77" = 25.4
  dimension "d78" = 50.8
  dimension "d80" = 25.4
  dimension "d81" = 50.8
  dimension "d82" = 25.4
  dimension "d83" = 50.8
  dimension "d85" = 25.4
  dimension "d86" = 50.8
  dimension "d87" = 25.4
  dimension "d88" = 50.8
  dimension "d90" = 25.4
  dimension "d91" = 50.8
  dimension "d92" = 25.4
  dimension "d93" = 50.8
  dimension "d95" = 25.4
extrude "Extrusion2" cut sketch "Sketch2" against normal blind 50.8 contours L109 L110 L111 L112 | L13 L14 L15 L16 | L9 L10 L11 L12 | L76 L73 L74 L75 | L34 L35 L36 L33 | L17 L18 L19 L20 | L77 L78 L79 L80 | L37 L38 L39 L40 | L100 L97 L98 L99 | L50 L51 L52 L49 | L21 L22 L23 L24 | L65 L66 L67 L68 | L41 L42 L43 L44 | L101 L102 L103 L104 | L53 L54 L55 L56 | L124 L121 L122 L123 | L25 L26 L27 L28 | L69 L70 L71 L72 | L45 L46 L47 L48 | L89 L90 L91 L92 | L125 L126 L127 L128 | L140 L137 L138 L139 | L29 L30 L31 L32 | L57 L58 L59 L60 | L93 L94 L95 L96 | L113 L114 L115 L116 | L141 L142 L143 L144 | L148 L145 L146 L147 | L61 L62 L63 L64 | L81 L82 L83 L84 | L117 L118 L119 L120 | L129 L130 L131 L132 | L149 L150 L151 L152 | L85 L86 L87 L88 | L105 L106 L107 L108 | L133 L134 L135 L136
properties part number "JukeBox Outside panel sharp edges" material "Oak, Red"
